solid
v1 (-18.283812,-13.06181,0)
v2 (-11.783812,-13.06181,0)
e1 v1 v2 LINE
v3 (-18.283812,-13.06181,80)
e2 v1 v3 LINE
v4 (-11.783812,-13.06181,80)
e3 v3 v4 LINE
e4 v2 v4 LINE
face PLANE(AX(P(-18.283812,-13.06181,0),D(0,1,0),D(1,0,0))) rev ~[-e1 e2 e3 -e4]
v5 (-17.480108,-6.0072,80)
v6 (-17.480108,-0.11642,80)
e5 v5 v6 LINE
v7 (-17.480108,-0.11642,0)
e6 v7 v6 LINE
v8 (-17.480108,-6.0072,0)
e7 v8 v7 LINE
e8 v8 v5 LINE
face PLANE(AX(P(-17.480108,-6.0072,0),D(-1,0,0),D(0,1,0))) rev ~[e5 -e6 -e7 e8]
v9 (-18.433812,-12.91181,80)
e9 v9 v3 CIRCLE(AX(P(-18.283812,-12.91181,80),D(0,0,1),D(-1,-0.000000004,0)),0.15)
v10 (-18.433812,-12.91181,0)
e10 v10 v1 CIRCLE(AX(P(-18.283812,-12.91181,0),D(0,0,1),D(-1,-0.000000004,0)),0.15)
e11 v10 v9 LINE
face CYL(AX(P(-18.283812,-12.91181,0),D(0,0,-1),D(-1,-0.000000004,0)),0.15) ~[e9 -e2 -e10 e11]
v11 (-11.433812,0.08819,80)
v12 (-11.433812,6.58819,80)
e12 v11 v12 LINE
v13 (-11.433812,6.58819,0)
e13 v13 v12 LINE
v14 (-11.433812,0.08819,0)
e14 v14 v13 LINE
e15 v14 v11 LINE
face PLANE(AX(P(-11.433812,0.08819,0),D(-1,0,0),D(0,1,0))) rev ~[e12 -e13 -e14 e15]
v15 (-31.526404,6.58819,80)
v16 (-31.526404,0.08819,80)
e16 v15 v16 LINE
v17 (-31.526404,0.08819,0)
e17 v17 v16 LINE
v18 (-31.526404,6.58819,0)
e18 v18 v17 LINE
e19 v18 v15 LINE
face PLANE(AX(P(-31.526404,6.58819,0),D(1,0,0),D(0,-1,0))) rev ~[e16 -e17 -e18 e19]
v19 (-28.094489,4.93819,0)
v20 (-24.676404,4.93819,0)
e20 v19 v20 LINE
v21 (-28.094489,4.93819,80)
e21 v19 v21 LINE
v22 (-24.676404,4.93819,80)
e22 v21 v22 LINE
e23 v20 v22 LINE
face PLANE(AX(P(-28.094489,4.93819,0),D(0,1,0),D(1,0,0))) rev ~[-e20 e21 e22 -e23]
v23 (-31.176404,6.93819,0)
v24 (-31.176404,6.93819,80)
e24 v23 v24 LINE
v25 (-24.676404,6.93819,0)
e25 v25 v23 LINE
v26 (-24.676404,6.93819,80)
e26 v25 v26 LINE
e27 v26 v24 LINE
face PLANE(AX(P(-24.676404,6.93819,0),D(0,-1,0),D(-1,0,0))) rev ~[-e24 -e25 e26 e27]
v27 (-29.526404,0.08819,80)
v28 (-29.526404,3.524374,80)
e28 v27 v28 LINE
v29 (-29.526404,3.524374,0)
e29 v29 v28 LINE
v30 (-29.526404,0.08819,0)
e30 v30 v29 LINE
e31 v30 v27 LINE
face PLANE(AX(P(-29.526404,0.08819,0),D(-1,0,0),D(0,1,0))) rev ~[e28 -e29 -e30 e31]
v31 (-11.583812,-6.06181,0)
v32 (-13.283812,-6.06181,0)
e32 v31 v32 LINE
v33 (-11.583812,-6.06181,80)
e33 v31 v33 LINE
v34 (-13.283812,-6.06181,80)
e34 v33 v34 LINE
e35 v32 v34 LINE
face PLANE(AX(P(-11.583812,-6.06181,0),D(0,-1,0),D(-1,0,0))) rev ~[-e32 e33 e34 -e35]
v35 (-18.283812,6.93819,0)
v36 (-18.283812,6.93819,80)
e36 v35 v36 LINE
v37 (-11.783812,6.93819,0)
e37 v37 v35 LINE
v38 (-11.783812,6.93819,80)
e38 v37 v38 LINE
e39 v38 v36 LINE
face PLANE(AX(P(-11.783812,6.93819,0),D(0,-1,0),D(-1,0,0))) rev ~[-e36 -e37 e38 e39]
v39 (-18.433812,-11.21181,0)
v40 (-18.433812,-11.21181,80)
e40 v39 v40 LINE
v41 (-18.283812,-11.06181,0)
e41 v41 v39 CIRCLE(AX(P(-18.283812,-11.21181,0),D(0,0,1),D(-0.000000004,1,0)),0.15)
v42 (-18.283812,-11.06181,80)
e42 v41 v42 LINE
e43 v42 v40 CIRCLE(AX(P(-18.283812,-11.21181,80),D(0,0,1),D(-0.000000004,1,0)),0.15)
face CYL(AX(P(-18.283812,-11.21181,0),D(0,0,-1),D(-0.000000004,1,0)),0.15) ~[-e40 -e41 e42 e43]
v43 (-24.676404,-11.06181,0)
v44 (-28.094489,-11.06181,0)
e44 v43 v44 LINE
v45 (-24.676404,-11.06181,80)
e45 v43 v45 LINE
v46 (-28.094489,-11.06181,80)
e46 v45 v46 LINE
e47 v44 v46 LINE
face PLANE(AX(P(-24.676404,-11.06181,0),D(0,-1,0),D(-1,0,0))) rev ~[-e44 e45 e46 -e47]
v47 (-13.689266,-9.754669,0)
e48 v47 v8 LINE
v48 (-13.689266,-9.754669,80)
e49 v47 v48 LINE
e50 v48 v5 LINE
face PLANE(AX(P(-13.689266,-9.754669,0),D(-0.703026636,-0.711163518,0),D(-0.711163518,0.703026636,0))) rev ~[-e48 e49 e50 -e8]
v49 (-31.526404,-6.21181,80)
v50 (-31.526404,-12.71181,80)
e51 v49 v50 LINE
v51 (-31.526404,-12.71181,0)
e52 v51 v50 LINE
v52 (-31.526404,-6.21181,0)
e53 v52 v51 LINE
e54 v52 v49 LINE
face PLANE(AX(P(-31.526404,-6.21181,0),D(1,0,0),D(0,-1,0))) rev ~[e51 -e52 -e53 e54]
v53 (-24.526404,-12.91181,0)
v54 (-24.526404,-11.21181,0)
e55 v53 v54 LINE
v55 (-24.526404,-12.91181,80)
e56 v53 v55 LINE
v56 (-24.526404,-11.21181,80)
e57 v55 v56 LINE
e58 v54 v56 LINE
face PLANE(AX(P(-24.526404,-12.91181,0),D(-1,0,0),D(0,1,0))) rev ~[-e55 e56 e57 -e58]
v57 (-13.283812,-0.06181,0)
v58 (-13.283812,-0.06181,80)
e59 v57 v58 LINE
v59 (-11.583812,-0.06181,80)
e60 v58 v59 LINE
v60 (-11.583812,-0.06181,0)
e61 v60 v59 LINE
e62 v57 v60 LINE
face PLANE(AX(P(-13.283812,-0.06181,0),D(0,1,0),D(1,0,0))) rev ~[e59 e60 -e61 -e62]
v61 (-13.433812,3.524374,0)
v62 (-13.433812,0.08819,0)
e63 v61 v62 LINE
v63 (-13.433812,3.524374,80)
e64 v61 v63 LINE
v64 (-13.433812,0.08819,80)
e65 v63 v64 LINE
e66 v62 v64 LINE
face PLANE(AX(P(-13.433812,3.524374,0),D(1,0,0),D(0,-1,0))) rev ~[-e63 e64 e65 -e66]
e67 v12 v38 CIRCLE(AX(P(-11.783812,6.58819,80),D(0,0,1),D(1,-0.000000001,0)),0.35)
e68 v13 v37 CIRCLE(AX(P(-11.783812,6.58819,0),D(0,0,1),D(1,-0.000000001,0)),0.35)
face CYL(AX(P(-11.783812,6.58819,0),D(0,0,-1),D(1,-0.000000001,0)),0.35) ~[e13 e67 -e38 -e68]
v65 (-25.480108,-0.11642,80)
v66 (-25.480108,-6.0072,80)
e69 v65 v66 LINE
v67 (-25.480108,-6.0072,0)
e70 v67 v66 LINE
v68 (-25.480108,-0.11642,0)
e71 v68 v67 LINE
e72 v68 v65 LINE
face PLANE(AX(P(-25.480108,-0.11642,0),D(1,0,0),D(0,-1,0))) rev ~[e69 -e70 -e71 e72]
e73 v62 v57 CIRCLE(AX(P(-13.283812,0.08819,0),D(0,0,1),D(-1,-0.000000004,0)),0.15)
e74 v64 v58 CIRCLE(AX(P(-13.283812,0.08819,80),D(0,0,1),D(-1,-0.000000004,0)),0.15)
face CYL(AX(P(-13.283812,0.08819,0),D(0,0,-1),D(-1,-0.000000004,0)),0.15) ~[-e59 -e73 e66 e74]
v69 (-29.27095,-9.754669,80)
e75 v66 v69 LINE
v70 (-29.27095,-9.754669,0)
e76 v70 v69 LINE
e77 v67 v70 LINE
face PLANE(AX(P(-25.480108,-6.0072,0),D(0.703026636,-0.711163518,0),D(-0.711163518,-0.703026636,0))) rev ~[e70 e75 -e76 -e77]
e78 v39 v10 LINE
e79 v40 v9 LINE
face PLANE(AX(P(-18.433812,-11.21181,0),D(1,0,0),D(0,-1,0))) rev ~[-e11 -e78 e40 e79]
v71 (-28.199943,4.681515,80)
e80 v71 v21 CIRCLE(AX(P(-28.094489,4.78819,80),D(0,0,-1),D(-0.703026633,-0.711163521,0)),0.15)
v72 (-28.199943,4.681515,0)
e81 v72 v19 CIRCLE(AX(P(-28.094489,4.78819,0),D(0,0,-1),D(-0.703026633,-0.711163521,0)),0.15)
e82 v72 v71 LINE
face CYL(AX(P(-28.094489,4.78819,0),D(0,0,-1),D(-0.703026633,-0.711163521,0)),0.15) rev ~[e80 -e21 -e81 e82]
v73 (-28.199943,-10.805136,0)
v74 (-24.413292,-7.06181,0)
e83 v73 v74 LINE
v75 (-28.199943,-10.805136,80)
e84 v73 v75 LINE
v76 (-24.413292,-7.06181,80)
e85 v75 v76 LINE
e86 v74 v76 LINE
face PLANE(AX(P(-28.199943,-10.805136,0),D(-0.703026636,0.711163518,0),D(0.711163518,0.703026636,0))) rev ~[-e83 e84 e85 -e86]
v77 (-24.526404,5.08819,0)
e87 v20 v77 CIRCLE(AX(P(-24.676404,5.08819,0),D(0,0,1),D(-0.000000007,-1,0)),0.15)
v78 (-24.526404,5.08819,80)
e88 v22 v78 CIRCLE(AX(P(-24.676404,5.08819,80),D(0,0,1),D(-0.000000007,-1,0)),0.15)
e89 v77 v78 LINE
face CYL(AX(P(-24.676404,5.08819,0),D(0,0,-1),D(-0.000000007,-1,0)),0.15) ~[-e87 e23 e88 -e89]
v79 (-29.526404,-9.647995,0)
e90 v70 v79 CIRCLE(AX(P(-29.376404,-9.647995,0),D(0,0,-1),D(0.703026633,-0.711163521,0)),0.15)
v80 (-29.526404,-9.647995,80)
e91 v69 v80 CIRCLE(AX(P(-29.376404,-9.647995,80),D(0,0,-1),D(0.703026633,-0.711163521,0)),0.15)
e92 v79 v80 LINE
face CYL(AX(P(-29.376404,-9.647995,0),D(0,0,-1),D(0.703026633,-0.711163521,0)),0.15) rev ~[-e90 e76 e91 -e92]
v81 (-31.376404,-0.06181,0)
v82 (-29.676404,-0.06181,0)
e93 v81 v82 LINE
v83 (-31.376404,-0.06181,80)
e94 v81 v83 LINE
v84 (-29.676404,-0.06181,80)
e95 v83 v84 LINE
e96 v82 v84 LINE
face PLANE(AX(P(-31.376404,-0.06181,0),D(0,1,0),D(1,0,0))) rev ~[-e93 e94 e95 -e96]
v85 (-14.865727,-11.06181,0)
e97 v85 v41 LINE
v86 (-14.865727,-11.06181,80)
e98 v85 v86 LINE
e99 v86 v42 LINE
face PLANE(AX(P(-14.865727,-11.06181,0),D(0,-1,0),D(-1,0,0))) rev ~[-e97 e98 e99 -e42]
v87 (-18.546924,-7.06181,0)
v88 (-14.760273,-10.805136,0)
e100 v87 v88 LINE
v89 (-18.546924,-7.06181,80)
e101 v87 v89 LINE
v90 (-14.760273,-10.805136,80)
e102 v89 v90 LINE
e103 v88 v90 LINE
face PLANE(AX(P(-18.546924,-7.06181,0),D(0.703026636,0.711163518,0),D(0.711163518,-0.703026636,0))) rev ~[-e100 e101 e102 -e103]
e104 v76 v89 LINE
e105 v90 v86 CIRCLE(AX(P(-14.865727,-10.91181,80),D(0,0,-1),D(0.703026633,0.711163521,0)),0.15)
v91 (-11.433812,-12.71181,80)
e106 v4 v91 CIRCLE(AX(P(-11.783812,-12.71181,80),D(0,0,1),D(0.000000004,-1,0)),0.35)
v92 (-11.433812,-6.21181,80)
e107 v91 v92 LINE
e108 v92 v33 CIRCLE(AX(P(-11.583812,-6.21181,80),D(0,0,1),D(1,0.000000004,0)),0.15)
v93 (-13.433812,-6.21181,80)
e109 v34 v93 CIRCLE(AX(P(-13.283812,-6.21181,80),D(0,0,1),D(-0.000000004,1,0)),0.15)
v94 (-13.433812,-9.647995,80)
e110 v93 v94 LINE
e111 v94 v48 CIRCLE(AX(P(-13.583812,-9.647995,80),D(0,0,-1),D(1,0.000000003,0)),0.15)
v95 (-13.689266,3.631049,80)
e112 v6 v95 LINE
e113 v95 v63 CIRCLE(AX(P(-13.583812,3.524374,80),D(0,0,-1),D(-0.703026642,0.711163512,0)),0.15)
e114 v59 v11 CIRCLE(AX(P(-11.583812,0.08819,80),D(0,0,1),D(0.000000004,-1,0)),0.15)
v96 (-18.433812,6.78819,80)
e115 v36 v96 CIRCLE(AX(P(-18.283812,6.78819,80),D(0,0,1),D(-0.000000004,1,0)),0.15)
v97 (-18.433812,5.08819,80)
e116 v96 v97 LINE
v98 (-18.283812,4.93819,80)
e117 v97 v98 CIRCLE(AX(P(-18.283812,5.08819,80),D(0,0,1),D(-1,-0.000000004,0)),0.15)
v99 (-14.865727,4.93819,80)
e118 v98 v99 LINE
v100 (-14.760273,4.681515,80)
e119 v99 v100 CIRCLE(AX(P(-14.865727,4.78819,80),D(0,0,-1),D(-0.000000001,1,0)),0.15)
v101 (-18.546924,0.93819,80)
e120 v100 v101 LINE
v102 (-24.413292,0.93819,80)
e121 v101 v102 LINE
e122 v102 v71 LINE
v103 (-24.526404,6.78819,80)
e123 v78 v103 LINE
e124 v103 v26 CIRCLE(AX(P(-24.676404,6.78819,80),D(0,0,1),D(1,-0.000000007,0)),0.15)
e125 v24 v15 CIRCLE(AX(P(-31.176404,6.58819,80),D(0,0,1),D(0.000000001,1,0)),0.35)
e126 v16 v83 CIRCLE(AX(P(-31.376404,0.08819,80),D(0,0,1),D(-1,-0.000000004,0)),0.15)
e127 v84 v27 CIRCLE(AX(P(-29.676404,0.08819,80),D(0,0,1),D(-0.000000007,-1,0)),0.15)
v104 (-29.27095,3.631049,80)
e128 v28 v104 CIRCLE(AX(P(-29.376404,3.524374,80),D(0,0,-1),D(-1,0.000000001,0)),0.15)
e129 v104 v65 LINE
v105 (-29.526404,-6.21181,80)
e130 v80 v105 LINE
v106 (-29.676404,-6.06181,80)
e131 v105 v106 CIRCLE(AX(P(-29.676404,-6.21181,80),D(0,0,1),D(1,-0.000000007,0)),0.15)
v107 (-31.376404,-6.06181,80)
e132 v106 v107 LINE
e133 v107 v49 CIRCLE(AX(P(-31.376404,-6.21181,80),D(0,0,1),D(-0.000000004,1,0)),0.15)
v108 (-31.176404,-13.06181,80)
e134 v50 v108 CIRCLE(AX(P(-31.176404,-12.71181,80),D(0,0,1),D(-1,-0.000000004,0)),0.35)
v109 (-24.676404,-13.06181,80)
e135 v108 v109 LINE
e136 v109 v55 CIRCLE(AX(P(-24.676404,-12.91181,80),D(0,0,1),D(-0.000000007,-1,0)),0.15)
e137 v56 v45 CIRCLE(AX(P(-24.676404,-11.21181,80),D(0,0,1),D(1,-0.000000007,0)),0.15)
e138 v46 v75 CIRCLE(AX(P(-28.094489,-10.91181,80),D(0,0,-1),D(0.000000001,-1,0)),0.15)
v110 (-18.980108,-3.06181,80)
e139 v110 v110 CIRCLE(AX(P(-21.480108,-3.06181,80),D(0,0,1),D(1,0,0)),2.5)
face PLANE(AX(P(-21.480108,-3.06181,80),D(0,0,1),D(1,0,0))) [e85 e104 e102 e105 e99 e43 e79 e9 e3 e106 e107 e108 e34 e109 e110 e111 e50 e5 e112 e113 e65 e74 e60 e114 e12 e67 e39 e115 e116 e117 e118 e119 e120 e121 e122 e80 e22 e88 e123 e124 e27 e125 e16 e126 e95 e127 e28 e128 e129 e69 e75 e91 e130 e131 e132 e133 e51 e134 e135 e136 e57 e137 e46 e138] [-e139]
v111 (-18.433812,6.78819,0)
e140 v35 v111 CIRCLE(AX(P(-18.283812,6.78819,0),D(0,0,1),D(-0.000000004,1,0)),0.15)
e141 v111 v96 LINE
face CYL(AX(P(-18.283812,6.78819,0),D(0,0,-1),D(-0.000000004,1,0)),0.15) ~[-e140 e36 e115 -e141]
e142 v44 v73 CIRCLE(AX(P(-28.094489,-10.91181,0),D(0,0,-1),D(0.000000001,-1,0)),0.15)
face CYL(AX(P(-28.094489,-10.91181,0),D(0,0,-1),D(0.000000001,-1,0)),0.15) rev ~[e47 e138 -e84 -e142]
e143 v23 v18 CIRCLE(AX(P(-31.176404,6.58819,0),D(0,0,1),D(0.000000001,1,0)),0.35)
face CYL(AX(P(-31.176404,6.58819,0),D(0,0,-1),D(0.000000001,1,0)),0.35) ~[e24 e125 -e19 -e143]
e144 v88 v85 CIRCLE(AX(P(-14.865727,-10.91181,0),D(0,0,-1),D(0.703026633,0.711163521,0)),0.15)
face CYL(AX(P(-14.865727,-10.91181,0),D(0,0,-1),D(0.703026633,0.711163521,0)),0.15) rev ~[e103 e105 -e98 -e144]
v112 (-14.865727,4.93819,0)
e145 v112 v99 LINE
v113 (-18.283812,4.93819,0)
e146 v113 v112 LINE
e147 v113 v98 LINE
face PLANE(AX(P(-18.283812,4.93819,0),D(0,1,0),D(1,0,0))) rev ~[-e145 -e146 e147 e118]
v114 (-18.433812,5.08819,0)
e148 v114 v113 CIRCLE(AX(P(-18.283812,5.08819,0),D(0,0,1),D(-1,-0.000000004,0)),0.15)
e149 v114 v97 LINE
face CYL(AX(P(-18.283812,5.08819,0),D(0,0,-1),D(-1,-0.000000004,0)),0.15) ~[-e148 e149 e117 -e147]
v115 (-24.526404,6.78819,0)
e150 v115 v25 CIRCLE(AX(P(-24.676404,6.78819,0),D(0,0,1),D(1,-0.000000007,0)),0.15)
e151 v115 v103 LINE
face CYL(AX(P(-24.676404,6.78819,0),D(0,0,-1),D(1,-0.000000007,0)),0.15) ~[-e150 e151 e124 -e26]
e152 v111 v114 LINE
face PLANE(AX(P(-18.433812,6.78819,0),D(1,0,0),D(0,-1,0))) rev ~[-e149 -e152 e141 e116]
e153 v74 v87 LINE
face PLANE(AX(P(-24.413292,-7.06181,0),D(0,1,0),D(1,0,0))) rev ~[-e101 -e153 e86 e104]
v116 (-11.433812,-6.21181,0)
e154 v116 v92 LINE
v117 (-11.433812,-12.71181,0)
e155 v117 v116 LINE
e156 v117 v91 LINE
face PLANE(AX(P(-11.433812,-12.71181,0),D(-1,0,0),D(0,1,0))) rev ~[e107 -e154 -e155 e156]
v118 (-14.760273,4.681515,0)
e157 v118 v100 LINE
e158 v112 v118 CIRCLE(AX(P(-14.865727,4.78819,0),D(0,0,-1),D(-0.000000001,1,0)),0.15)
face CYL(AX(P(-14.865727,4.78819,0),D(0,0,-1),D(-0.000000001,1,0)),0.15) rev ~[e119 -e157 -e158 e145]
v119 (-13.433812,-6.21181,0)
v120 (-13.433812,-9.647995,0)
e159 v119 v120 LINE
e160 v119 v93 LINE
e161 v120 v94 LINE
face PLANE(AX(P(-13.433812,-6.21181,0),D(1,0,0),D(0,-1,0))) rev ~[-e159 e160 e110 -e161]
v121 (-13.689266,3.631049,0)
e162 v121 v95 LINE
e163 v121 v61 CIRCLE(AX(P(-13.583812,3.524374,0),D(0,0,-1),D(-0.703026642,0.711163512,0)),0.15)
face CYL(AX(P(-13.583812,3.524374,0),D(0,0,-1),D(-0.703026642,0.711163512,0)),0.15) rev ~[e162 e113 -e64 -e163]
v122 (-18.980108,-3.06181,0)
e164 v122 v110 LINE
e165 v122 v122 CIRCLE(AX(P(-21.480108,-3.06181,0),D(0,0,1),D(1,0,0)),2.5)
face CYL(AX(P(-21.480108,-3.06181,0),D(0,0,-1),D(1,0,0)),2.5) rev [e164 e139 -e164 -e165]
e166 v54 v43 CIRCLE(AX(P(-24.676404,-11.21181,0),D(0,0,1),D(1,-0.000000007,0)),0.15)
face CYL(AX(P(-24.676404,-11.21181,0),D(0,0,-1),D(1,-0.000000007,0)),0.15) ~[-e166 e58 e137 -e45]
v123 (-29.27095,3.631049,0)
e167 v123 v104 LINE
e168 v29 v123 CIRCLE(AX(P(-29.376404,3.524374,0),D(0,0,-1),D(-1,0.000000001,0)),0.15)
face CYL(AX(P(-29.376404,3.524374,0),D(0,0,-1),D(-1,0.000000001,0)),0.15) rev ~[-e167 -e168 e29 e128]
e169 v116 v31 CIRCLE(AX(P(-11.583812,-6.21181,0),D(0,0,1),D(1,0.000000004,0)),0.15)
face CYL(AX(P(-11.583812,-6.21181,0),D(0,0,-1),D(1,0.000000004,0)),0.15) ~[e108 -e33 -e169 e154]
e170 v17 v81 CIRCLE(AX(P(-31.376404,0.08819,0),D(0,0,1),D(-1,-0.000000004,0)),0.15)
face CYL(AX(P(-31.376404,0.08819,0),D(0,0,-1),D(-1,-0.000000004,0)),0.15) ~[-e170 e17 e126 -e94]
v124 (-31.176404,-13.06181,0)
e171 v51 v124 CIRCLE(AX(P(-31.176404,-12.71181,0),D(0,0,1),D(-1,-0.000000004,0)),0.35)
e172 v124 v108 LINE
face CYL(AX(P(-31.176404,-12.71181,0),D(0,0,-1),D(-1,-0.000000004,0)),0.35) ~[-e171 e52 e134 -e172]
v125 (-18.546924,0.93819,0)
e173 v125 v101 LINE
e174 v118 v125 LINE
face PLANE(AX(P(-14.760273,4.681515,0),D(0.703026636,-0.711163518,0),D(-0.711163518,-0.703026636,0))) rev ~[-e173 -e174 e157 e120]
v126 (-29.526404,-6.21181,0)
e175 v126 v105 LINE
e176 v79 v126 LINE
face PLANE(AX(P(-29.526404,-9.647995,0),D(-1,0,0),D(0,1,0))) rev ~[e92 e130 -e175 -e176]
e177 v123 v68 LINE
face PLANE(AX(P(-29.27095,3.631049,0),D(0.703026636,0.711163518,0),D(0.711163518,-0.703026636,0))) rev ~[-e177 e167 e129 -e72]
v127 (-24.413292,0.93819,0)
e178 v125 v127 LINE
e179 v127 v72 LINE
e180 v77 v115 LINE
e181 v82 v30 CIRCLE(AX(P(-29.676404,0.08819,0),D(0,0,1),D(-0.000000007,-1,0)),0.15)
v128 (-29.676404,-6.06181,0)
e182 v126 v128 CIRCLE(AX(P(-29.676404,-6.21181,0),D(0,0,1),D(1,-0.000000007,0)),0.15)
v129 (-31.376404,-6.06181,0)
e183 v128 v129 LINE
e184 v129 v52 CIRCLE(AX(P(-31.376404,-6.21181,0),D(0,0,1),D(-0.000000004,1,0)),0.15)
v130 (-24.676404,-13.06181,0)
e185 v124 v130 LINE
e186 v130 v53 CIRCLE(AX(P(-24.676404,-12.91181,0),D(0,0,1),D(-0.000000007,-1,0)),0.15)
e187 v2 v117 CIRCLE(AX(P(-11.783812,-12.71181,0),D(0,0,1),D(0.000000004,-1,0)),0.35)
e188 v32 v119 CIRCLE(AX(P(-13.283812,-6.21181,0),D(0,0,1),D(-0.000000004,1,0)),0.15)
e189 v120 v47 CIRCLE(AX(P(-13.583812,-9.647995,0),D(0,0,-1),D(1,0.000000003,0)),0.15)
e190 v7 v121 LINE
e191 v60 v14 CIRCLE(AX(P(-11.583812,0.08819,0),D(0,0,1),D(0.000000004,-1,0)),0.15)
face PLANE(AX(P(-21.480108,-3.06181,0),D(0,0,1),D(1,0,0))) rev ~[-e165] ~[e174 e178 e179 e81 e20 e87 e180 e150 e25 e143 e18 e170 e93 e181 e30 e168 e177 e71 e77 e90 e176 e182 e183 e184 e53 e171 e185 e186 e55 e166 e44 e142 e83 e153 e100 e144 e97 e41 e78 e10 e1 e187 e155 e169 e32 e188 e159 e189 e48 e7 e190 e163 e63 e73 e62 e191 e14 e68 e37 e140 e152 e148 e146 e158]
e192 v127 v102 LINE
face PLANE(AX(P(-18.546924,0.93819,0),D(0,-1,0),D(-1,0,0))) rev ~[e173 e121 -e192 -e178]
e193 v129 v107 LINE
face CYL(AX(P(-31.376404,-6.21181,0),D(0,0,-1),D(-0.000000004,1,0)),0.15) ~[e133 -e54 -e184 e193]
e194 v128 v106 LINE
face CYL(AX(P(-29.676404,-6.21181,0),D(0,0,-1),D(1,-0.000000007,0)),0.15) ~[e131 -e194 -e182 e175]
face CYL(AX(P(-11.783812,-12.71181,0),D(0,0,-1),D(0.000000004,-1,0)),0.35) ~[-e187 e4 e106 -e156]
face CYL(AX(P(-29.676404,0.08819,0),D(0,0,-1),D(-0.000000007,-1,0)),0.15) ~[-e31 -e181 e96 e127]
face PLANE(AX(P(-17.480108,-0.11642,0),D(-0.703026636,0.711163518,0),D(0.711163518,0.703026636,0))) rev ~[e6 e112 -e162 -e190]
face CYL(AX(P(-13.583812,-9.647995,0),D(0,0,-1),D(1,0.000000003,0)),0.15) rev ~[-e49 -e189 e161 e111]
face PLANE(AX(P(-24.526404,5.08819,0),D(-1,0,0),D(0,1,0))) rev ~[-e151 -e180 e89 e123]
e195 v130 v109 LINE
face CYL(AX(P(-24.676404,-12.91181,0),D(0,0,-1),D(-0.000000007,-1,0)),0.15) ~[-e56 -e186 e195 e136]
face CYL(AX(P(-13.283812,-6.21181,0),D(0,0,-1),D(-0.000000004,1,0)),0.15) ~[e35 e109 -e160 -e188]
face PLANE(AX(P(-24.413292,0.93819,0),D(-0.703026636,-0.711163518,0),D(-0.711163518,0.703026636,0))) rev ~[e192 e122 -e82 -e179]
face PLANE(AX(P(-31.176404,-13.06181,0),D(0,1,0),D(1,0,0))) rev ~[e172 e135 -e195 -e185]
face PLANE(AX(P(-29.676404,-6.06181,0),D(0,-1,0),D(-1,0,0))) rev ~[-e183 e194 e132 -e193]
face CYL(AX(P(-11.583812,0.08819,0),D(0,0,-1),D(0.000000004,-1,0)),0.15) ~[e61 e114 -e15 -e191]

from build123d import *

# Parameters (mm, degrees)
SKETCH1_R           = 2.5
BOSS_EXTRUDE1_DEPTH = 80


with BuildPart() as part:
    # Sketch1 → Boss-Extrude1 (new body)
    with BuildSketch(Plane.XY):
        with BuildLine():
            Line((-31.376404226, -0.06181021), (-29.676404226, -0.06181021))
            ThreePointArc((-29.676404226, -0.06181021), (-29.570338208, -0.017876227), (-29.526404226, 0.08818979))
            Line((-29.526404226, 0.08818979), (-29.526404226, 3.524374304))
            ThreePointArc((-29.526404226, 3.524374304), (-29.43420518, 3.662790523), (-29.27095023, 3.631048831))
            Line((-29.27095023, 3.631048831), (-25.480107929, -0.116419988))
            Line((-25.480107929, -0.116419988), (-25.480107929, -6.007200432))
            Line((-25.480107929, -6.007200432), (-29.27095023, -9.754669251))
            ThreePointArc((-29.27095023, -9.754669251), (-29.43420518, -9.786410942), (-29.526404226, -9.647994723))
            Line((-29.526404226, -9.647994723), (-29.526404226, -6.21181021))
            ThreePointArc((-29.526404226, -6.21181021), (-29.570338208, -6.105744193), (-29.676404226, -6.06181021))
            Line((-29.676404226, -6.06181021), (-31.376404226, -6.06181021))
            ThreePointArc((-31.376404226, -6.06181021), (-31.482470243, -6.105744193), (-31.526404226, -6.21181021))
            Line((-31.526404226, -6.21181021), (-31.526404226, -12.71181021))
            ThreePointArc((-31.526404226, -12.71181021), (-31.423891599, -12.959297583), (-31.176404226, -13.06181021))
            Line((-31.176404226, -13.06181021), (-24.676404226, -13.06181021))
            ThreePointArc((-24.676404226, -13.06181021), (-24.570338208, -13.017876227), (-24.526404226, -12.91181021))
            Line((-24.526404226, -12.91181021), (-24.526404226, -11.21181021))
            ThreePointArc((-24.526404226, -11.21181021), (-24.570338208, -11.105744193), (-24.676404226, -11.06181021))
            Line((-24.676404226, -11.06181021), (-28.094489023, -11.06181021))
            ThreePointArc((-28.094489023, -11.06181021), (-28.233235517, -10.96881381), (-28.199943018, -10.805135682))
            Line((-28.199943018, -10.805135682), (-24.41329202, -7.06181021))
            Line((-24.41329202, -7.06181021), (-18.546923839, -7.06181021))
            Line((-18.546923839, -7.06181021), (-14.760272841, -10.805135682))
            ThreePointArc((-14.760272841, -10.805135682), (-14.726980342, -10.96881381), (-14.865726836, -11.06181021))
            Line((-14.865726836, -11.06181021), (-18.283811633, -11.06181021))
            ThreePointArc((-18.283811633, -11.06181021), (-18.38987765, -11.105744193), (-18.433811633, -11.21181021))
            Line((-18.433811633, -11.21181021), (-18.433811633, -12.91181021))
            ThreePointArc((-18.433811633, -12.91181021), (-18.38987765, -13.017876227), (-18.283811633, -13.06181021))
            Line((-18.283811633, -13.06181021), (-11.783811633, -13.06181021))
            ThreePointArc((-11.783811633, -13.06181021), (-11.53632426, -12.959297583), (-11.433811633, -12.71181021))
            Line((-11.433811633, -12.71181021), (-11.433811633, -6.21181021))
            ThreePointArc((-11.433811633, -6.21181021), (-11.477745616, -6.105744193), (-11.583811633, -6.06181021))
            Line((-11.583811633, -6.06181021), (-13.283811633, -6.06181021))
            ThreePointArc((-13.283811633, -6.06181021), (-13.38987765, -6.105744193), (-13.433811633, -6.21181021))
            Line((-13.433811633, -6.21181021), (-13.433811633, -9.647994723))
            ThreePointArc((-13.433811633, -9.647994723), (-13.526010678, -9.786410942), (-13.689265628, -9.754669251))
            Line((-13.689265628, -9.754669251), (-17.480107929, -6.007200432))
            Line((-17.480107929, -6.007200432), (-17.480107929, -0.116419988))
            Line((-17.480107929, -0.116419988), (-13.689265628, 3.631048831))
            ThreePointArc((-13.689265628, 3.631048831), (-13.526010678, 3.662790523), (-13.433811633, 3.524374304))
            Line((-13.433811633, 3.524374304), (-13.433811633, 0.08818979))
            ThreePointArc((-13.433811633, 0.08818979), (-13.38987765, -0.017876227), (-13.283811633, -0.06181021))
            Line((-13.283811633, -0.06181021), (-11.583811633, -0.06181021))
            ThreePointArc((-11.583811633, -0.06181021), (-11.477745616, -0.017876227), (-11.433811633, 0.08818979))
            Line((-11.433811633, 0.08818979), (-11.433811633, 6.58818979))
            ThreePointArc((-11.433811633, 6.58818979), (-11.53632426, 6.835677164), (-11.783811633, 6.93818979))
            Line((-11.783811633, 6.93818979), (-18.283811633, 6.93818979))
            ThreePointArc((-18.283811633, 6.93818979), (-18.38987765, 6.894255807), (-18.433811633, 6.78818979))
            Line((-18.433811633, 6.78818979), (-18.433811633, 5.08818979))
            ThreePointArc((-18.433811633, 5.08818979), (-18.38987765, 4.982123773), (-18.283811633, 4.93818979))
            Line((-18.283811633, 4.93818979), (-14.865726836, 4.93818979))
            ThreePointArc((-14.865726836, 4.93818979), (-14.726980342, 4.84519339), (-14.760272841, 4.681515262))
            Line((-14.760272841, 4.681515262), (-18.546923839, 0.93818979))
            Line((-18.546923839, 0.93818979), (-24.41329202, 0.93818979))
            Line((-24.41329202, 0.93818979), (-28.199943018, 4.681515262))
            ThreePointArc((-28.199943018, 4.681515262), (-28.233235517, 4.84519339), (-28.094489023, 4.93818979))
            Line((-28.094489023, 4.93818979), (-24.676404226, 4.93818979))
            ThreePointArc((-24.676404226, 4.93818979), (-24.570338208, 4.982123773), (-24.526404226, 5.08818979))
            Line((-24.526404226, 5.08818979), (-24.526404226, 6.78818979))
            ThreePointArc((-24.526404226, 6.78818979), (-24.570338208, 6.894255807), (-24.676404226, 6.93818979))
            Line((-24.676404226, 6.93818979), (-31.176404226, 6.93818979))
            ThreePointArc((-31.176404226, 6.93818979), (-31.423891599, 6.835677164), (-31.526404226, 6.58818979))
            Line((-31.526404226, 6.58818979), (-31.526404226, 0.08818979))
            ThreePointArc((-31.526404226, 0.08818979), (-31.482470243, -0.017876227), (-31.376404226, -0.06181021))
        make_face()
        with Locations((-21.480107929, -3.06181021)):
            Circle(SKETCH1_R, mode=Mode.SUBTRACT)
    extrude(amount=BOSS_EXTRUDE1_DEPTH)


solid = part.part
